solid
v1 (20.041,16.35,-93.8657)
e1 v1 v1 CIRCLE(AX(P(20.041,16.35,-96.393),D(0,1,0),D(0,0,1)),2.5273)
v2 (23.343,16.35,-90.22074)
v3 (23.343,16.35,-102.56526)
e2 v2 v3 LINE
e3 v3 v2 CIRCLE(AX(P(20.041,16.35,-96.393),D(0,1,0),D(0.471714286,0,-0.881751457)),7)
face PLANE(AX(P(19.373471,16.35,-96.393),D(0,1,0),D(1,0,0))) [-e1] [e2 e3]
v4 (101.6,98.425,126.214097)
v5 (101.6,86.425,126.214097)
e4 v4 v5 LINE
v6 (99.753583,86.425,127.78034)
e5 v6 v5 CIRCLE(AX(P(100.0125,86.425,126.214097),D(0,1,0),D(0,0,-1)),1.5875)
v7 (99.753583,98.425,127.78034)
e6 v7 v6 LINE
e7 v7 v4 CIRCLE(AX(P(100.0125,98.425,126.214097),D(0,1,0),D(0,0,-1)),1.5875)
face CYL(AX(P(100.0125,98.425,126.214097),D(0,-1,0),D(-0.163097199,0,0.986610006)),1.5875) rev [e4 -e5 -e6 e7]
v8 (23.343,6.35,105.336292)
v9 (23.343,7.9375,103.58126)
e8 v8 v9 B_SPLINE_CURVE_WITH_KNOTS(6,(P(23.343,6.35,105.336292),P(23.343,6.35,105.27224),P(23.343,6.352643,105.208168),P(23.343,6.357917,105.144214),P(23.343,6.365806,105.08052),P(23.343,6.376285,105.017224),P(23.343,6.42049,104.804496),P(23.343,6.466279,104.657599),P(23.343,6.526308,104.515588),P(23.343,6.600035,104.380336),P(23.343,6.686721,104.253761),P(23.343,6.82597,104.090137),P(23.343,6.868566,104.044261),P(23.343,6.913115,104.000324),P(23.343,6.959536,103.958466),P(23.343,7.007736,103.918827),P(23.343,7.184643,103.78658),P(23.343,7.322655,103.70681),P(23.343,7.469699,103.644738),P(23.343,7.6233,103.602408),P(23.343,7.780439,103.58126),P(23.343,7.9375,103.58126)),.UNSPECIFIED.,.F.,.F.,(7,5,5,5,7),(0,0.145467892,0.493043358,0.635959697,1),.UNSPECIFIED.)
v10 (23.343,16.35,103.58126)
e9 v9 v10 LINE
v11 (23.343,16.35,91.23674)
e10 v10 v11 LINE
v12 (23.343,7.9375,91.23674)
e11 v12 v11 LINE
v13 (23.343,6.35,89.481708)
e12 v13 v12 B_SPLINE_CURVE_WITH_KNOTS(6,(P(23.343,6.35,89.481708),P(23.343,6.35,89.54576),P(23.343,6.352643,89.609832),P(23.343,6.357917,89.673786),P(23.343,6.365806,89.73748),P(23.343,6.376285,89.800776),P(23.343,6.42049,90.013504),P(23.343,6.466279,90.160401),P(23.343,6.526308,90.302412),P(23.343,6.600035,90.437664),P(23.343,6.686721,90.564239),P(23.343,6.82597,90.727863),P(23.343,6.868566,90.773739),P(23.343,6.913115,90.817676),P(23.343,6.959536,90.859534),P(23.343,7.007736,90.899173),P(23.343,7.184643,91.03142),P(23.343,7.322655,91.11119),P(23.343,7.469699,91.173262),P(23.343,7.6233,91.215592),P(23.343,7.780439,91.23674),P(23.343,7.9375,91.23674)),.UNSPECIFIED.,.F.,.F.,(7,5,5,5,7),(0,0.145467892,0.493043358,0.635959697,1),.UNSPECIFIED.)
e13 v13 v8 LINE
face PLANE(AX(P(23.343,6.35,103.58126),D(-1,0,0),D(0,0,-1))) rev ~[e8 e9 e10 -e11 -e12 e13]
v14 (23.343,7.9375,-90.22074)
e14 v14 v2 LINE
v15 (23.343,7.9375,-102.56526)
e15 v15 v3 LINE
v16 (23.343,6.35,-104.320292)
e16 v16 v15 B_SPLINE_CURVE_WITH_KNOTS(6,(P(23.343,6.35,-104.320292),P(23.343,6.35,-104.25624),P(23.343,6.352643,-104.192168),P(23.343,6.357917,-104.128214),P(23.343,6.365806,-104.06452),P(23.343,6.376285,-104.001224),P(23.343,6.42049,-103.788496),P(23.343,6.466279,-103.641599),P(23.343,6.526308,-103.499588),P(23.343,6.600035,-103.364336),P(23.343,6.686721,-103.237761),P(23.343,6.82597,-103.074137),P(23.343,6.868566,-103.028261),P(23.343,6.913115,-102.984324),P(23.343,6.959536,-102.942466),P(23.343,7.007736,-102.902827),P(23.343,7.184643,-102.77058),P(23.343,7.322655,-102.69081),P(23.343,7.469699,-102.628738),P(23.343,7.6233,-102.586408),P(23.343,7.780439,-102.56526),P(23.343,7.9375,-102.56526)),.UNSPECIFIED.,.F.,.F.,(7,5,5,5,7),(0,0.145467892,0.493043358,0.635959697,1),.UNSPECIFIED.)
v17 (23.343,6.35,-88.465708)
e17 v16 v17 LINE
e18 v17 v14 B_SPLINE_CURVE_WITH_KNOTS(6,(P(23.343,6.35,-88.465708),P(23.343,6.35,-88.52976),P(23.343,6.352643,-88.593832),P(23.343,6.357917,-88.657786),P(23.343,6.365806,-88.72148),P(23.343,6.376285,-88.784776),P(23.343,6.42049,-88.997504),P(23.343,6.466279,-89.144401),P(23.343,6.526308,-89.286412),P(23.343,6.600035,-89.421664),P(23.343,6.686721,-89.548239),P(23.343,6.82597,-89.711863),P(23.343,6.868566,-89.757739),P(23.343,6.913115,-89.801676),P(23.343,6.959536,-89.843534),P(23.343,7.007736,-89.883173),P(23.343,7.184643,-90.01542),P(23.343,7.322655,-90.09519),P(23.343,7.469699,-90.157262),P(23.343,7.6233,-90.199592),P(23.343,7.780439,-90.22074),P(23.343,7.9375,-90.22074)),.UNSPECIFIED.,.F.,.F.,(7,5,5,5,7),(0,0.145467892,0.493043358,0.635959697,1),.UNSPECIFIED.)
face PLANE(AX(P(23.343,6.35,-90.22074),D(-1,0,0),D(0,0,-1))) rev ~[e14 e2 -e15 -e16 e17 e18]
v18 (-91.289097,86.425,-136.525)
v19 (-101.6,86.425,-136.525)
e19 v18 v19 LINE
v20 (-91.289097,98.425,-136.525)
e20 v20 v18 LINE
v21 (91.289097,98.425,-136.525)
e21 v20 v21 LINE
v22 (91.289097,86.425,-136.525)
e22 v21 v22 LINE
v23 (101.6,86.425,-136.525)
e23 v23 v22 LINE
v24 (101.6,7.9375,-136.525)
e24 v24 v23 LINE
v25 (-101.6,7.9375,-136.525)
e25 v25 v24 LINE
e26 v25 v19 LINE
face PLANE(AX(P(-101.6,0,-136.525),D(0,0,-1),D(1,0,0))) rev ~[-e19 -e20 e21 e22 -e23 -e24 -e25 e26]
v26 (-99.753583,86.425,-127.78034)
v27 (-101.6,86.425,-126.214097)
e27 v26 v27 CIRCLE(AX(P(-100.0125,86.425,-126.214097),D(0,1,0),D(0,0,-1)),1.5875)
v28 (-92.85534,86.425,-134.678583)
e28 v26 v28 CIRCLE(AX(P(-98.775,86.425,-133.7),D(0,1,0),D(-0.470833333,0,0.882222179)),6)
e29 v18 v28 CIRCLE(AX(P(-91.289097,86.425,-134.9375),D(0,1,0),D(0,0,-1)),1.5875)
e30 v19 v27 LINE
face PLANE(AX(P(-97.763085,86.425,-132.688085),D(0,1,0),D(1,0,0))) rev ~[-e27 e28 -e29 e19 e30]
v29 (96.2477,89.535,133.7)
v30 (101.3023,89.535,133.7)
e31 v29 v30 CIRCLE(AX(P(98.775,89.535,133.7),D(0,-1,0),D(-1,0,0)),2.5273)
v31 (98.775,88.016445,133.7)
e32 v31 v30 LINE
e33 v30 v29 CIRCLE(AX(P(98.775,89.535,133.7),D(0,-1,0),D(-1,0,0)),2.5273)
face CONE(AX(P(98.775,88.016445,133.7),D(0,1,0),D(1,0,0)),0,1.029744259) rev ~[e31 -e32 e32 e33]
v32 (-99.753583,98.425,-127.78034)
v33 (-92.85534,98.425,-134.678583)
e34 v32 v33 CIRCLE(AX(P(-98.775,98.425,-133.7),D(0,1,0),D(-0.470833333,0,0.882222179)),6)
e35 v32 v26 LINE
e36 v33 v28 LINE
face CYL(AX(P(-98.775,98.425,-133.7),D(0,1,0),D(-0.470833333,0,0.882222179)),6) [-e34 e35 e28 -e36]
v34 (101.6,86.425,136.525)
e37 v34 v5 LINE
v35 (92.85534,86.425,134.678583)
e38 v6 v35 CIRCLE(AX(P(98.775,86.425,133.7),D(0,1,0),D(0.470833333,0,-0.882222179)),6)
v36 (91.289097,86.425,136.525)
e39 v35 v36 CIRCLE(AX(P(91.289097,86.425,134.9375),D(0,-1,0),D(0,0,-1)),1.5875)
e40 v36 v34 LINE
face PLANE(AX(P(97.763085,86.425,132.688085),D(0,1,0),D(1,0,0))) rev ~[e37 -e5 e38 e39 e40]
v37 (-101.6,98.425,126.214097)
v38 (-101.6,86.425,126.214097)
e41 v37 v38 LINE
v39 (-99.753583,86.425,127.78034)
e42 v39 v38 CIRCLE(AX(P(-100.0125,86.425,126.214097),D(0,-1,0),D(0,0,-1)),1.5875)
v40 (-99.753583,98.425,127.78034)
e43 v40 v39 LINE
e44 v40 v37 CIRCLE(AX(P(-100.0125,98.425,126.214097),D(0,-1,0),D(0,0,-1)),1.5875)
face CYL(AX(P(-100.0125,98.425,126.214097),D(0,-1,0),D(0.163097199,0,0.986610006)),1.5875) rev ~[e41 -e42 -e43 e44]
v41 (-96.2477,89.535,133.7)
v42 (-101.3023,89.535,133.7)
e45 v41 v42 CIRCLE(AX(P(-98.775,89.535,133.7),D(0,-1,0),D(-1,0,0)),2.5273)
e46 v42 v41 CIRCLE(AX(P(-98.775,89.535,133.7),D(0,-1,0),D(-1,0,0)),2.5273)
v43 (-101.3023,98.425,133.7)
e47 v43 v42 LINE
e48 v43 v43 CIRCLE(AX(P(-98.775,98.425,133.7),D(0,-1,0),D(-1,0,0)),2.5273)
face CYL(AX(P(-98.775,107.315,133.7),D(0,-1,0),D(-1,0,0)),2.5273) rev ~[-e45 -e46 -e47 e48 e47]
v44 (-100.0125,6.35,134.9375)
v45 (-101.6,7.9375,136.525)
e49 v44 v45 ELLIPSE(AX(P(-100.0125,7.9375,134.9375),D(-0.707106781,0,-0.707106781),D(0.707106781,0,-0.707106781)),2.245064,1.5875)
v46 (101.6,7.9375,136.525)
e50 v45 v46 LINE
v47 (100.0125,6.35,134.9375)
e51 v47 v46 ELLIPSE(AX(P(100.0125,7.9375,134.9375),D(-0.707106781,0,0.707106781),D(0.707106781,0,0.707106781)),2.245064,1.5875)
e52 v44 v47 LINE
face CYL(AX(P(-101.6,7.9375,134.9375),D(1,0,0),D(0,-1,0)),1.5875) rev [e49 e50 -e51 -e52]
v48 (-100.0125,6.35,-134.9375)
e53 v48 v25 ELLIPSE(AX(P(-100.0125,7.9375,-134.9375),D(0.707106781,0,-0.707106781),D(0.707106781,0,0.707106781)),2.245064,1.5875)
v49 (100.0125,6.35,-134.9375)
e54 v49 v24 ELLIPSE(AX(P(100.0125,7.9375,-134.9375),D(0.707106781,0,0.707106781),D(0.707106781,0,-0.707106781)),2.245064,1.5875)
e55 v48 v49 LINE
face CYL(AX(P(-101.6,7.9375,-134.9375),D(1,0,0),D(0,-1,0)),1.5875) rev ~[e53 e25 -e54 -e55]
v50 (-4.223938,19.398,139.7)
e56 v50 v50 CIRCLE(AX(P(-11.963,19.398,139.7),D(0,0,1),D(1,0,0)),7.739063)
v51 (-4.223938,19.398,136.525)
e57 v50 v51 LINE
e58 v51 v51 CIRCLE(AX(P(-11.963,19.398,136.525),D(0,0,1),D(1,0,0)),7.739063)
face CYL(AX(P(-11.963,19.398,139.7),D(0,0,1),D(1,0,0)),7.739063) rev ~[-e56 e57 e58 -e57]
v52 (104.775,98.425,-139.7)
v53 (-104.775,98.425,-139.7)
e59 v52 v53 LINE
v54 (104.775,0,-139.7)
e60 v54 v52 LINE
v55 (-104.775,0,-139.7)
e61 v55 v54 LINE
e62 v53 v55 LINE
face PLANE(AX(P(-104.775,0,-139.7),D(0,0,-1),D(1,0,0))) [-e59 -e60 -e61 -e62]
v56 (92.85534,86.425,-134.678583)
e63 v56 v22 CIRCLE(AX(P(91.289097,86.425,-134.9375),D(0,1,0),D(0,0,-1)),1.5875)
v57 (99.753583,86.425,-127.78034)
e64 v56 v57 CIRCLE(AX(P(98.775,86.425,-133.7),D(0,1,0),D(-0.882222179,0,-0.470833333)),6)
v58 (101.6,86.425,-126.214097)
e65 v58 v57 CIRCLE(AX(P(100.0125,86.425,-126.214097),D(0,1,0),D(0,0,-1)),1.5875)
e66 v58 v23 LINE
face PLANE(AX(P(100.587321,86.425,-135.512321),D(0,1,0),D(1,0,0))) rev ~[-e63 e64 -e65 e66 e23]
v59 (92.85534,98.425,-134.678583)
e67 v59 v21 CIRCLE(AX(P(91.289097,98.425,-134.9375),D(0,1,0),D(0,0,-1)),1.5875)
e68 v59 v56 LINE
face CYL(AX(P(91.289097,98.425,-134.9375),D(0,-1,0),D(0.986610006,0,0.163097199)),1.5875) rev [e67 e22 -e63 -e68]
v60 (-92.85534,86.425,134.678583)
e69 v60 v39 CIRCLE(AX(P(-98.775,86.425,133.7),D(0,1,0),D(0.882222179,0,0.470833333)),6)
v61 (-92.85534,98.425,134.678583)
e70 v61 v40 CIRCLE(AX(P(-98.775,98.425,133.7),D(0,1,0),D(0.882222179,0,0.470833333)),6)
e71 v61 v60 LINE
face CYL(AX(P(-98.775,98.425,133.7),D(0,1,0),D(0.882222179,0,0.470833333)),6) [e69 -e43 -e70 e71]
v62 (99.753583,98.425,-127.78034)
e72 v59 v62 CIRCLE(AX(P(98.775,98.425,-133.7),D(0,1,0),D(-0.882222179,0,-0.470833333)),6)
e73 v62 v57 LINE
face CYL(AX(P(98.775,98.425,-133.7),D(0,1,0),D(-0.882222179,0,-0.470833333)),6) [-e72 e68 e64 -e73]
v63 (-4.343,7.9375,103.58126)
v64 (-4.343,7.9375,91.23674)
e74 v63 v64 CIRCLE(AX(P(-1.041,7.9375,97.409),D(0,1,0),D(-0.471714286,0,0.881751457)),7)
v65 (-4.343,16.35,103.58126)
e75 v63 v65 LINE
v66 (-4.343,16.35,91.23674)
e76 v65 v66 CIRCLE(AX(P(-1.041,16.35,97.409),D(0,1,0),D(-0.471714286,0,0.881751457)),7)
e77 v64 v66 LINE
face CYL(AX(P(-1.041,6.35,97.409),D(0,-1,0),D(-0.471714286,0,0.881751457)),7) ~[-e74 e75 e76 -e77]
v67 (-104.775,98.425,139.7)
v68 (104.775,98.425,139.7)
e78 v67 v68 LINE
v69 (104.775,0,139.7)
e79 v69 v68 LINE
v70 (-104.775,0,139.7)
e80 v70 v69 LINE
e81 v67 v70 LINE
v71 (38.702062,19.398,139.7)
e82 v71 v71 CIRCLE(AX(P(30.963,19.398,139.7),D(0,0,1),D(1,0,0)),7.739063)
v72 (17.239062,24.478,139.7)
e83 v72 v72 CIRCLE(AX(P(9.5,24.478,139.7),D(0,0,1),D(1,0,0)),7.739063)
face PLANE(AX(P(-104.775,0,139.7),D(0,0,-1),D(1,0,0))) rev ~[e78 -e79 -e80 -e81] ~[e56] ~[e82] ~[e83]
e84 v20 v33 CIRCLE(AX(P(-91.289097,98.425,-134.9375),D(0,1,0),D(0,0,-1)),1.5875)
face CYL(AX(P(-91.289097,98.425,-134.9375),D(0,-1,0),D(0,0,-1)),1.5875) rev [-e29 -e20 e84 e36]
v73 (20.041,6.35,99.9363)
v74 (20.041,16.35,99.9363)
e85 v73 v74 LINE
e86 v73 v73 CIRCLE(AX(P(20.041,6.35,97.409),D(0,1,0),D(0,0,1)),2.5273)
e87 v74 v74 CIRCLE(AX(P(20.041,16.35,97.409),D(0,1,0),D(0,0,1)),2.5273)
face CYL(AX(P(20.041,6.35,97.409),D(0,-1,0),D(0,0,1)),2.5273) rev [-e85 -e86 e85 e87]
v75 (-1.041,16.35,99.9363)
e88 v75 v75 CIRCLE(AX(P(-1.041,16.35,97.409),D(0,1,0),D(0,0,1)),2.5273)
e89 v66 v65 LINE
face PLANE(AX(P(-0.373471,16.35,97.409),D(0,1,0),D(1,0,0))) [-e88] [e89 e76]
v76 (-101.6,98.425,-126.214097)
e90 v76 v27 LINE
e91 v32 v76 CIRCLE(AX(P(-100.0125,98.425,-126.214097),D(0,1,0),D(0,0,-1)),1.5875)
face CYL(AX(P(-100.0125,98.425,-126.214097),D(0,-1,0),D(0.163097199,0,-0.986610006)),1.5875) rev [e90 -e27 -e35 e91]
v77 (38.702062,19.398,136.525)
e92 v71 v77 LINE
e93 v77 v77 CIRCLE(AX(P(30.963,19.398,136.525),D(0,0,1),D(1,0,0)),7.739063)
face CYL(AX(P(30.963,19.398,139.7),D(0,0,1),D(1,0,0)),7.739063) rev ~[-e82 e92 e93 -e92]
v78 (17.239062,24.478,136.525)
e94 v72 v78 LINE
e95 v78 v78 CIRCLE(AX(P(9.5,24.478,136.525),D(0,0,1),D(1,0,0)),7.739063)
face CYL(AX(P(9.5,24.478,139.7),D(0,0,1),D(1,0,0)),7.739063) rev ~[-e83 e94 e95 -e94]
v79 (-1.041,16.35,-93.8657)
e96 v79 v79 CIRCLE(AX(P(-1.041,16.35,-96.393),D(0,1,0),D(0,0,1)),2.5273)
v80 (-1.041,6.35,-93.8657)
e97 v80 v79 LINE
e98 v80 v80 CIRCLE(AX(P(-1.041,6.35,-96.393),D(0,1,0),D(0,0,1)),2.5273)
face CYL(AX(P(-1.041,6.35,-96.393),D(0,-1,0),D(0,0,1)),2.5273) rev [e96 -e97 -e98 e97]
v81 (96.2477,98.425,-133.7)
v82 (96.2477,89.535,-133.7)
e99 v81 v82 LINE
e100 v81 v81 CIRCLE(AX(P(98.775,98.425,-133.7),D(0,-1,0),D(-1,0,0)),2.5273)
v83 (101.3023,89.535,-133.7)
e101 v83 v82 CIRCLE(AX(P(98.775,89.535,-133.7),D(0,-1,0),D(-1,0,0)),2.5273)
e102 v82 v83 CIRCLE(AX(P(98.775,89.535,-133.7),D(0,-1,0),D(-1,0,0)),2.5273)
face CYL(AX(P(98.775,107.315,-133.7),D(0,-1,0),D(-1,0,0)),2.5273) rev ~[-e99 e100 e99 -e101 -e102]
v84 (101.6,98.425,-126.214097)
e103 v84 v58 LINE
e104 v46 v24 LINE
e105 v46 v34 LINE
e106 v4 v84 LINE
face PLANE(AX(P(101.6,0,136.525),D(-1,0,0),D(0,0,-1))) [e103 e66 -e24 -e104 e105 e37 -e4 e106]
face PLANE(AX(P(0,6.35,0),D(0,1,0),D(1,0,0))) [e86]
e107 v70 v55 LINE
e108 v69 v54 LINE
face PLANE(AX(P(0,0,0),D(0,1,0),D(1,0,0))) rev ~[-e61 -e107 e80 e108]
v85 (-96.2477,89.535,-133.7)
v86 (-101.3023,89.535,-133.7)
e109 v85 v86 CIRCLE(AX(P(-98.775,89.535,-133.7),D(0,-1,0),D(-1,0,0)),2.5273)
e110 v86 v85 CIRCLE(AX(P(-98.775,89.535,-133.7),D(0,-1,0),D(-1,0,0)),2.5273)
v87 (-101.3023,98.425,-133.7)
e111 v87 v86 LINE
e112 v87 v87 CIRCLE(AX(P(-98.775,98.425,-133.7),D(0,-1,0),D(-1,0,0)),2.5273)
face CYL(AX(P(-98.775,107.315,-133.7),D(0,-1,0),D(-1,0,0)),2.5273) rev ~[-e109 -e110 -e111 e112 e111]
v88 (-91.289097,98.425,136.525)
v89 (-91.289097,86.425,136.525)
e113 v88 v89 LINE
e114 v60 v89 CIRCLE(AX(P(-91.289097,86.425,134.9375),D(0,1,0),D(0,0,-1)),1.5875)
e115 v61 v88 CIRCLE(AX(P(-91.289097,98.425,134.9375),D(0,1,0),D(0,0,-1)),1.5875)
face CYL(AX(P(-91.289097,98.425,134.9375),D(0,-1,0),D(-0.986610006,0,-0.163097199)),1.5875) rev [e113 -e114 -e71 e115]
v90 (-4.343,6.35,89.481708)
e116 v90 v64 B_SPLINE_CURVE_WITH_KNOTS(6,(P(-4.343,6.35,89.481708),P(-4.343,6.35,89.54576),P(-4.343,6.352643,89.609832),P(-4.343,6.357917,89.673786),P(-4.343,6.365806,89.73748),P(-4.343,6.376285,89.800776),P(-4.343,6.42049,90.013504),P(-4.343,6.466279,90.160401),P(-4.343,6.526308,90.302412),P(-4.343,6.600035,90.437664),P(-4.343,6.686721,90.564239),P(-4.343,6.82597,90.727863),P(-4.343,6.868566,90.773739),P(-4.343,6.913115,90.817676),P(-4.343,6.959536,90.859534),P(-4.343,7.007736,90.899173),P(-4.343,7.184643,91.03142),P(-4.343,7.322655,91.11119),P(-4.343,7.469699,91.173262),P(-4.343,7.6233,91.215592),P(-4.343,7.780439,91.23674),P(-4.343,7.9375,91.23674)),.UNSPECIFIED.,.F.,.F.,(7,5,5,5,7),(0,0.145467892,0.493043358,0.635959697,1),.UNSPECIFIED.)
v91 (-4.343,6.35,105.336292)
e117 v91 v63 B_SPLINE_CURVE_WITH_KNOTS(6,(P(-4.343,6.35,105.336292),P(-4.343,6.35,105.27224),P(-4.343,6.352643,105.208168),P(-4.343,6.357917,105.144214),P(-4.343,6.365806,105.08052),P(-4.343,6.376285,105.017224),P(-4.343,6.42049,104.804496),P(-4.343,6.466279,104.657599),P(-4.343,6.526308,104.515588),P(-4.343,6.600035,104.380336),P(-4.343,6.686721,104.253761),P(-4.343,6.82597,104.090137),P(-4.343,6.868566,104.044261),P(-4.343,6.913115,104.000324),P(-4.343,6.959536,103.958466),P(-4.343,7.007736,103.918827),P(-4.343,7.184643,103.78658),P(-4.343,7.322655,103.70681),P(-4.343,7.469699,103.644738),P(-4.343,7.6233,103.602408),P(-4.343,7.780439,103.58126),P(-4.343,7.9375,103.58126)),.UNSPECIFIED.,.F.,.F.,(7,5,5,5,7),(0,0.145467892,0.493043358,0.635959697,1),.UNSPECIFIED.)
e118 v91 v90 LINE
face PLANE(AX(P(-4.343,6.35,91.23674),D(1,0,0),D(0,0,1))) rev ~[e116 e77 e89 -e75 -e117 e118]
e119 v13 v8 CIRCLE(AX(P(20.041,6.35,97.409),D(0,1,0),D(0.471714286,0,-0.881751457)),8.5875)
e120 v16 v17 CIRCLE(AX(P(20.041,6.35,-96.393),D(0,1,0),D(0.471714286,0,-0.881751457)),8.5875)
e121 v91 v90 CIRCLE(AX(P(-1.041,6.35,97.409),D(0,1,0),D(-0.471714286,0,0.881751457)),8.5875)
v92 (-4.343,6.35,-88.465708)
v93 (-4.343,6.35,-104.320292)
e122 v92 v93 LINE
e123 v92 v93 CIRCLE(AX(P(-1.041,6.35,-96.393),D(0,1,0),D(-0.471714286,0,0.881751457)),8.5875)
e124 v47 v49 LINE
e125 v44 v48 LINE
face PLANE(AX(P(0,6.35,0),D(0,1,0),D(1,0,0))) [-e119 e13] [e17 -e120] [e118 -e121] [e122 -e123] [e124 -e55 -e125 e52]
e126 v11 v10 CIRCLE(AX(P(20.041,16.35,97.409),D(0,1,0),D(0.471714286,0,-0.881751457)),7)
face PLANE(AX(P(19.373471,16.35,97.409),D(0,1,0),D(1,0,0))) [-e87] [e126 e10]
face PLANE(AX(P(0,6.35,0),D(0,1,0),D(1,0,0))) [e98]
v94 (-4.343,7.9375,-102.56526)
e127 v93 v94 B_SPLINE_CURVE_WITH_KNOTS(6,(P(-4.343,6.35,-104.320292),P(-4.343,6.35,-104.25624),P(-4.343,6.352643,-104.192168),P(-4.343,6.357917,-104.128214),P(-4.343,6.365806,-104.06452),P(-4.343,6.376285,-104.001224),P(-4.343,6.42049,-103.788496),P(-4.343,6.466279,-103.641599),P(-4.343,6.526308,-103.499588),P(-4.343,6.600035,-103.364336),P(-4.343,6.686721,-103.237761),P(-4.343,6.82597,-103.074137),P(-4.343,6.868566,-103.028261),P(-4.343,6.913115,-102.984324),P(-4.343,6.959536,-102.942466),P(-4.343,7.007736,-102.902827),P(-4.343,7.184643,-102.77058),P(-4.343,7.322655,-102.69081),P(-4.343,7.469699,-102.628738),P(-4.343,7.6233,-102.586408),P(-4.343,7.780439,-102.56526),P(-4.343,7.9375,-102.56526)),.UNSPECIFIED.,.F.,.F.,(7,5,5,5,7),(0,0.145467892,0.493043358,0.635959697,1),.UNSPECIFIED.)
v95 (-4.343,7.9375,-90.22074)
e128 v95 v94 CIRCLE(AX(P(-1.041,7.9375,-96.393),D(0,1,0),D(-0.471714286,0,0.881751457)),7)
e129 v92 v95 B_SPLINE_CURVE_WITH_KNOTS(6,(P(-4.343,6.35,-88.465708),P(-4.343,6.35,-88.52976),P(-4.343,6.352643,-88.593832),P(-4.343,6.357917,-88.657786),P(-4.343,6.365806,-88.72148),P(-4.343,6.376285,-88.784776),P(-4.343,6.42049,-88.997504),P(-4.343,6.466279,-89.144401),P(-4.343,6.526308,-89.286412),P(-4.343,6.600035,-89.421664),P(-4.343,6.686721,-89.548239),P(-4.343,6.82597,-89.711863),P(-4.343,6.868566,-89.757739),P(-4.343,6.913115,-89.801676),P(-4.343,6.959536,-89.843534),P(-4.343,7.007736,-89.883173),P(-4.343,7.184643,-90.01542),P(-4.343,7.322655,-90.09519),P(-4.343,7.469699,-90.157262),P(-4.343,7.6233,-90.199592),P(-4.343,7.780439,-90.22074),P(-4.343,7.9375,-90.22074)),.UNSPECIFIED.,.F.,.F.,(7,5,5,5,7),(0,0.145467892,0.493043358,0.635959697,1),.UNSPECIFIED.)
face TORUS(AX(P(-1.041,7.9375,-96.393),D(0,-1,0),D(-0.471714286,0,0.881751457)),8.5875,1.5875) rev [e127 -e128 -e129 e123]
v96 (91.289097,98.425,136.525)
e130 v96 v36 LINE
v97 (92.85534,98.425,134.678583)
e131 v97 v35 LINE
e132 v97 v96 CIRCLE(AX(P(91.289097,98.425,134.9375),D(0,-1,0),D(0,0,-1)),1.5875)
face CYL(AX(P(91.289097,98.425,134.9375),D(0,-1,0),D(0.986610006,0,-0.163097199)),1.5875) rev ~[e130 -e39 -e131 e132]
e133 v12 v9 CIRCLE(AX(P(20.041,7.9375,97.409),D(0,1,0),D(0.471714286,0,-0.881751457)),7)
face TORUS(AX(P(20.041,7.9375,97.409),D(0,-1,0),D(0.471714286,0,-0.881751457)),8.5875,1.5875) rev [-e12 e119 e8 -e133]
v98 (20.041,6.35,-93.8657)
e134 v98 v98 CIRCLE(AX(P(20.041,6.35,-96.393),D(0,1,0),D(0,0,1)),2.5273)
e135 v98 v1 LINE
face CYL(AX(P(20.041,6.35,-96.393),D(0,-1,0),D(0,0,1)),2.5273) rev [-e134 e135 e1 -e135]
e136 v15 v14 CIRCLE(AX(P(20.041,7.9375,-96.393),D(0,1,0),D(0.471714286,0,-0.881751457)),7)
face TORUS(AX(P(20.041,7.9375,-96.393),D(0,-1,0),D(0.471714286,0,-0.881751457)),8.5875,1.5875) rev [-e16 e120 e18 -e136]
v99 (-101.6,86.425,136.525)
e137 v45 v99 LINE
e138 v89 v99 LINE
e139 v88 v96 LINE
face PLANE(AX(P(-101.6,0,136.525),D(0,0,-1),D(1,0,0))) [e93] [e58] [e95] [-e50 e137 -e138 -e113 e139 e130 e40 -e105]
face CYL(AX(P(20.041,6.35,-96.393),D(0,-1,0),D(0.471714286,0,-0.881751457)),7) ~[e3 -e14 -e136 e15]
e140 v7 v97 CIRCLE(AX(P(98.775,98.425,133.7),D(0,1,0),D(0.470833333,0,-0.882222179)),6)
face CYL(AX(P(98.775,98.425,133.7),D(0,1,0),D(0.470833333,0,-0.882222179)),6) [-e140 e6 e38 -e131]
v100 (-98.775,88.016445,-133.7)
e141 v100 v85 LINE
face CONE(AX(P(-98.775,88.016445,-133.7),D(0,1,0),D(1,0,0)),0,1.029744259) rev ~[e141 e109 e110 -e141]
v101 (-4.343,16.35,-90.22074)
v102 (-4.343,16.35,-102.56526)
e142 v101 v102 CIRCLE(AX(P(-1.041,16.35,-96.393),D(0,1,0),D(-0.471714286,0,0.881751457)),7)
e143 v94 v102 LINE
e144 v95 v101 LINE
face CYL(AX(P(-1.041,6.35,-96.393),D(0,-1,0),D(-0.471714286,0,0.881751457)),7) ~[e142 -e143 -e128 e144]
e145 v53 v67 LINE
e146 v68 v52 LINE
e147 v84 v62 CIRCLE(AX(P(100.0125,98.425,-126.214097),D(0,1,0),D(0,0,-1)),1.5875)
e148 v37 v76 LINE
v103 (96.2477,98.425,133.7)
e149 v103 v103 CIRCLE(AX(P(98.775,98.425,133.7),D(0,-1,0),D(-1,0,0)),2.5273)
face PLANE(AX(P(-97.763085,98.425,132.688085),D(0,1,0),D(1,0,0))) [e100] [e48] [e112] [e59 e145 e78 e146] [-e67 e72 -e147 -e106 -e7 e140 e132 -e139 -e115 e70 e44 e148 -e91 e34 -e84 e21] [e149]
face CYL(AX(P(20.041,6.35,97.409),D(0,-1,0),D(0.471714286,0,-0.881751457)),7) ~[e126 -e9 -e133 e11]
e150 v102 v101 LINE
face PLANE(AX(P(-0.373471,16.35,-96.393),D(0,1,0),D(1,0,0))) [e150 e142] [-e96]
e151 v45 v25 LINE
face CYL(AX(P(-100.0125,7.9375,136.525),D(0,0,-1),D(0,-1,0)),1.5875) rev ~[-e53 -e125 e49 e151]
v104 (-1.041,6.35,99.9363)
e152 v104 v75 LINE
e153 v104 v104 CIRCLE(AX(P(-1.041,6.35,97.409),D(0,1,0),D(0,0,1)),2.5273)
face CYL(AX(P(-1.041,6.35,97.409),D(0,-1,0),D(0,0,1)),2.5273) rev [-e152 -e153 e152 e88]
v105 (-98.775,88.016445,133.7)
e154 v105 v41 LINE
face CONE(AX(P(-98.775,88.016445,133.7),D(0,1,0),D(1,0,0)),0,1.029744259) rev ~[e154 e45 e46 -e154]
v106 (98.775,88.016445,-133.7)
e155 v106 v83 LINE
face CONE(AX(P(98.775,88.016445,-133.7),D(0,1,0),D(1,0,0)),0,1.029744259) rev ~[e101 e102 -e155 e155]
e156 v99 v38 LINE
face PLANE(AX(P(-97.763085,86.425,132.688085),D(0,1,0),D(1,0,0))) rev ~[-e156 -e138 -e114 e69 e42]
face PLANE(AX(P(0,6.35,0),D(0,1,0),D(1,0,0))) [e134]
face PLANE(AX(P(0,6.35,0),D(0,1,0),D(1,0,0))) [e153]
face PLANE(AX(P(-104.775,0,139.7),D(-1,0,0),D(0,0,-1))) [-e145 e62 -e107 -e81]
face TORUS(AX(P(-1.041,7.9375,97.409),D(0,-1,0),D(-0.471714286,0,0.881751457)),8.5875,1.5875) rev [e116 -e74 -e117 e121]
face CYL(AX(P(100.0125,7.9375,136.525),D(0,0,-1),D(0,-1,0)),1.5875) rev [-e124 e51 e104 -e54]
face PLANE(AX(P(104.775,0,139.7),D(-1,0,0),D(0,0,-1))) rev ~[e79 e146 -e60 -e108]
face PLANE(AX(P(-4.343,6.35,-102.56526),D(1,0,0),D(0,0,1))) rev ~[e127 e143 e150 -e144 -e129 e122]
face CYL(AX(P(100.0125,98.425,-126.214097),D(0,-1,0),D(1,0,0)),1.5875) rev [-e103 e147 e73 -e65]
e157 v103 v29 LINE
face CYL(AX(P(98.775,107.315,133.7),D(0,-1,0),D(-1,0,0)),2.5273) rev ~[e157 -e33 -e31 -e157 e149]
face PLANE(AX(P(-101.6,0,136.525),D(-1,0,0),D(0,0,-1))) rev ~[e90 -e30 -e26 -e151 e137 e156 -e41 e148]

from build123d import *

# Parameters (mm, degrees)
SKETCH2_W                                = 203.2
SKETCH2_H                                = 273.05
BOX_BASE_DEPTH                           = 6.35
SKETCH2_3_W                              = 209.55
SKETCH2_3_H                              = 279.4
SKETCH2_3_W_2                            = 203.2
SKETCH2_3_H_2                            = 273.05
BOX_WALL_HEIGHT_DEPTH                    = 98.425
SKETCH9_R                                = 2.5273
BOSS_EXTRUDE4_DEPTH                      = 12
FILLET2_R                                = 1.5875
LID_MOUNTING_HEAT_SET_INSERT_HOLES_D     = 5.0546
LID_MOUNTING_HEAT_SET_INSERT_HOLES_DEPTH = 8.89
LID_MOUNTING_HEAT_SET_INSERT_HOLES_TIP   = 1.518555042
SKETCH14_R                               = 2.5273
MME_42_MOUNTING_PEGS_DEPTH               = 10
FILLET3_R                                = 1.5875
FILLET5_R                                = 1.5875
SKETCH19_R                               = 7.7390625
CUT_EXTRUDE2_DEPTH                       = 3.175


with BuildPart() as part:
    # Sketch2 → Box Base (new body)
    with BuildSketch(Plane(origin=(0, 0, 0), x_dir=(1, 0, 0), z_dir=(0, 1, 0))):
        Rectangle(SKETCH2_W, SKETCH2_H)
    extrude(amount=BOX_BASE_DEPTH)

    # Sketch2<3> → Box Wall height (add)
    with BuildSketch(Plane(origin=(0, 0, 0), x_dir=(1, 0, 0), z_dir=(0, 1, 0))):
        Rectangle(SKETCH2_3_W, SKETCH2_3_H)
        Rectangle(SKETCH2_3_W_2, SKETCH2_3_H_2, mode=Mode.SUBTRACT)
    extrude(amount=BOX_WALL_HEIGHT_DEPTH)

    # Sketch9 → Boss-Extrude4 (add)
    with BuildSketch(Plane(origin=(0, 98.425, 0), x_dir=(1, 0, 0), z_dir=(0, 1, 0))):
        with BuildLine():
            ThreePointArc((-93.481666929, -136.525), (-94.532359313, -129.457359313), (-101.6, -128.406666929))
            Line((-101.6, -128.406666929), (-101.6, -136.525))
            Line((-101.6, -136.525), (-93.481666929, -136.525))
        make_face()
        with Locations((-98.775, -133.7)):
            Circle(SKETCH9_R, mode=Mode.SUBTRACT)
        with Locations((-98.775, -133.7)):
            Circle(SKETCH9_R)
        Polygon((-101.6, -136.525), (-101.6, -128.406666929), (-104.775, -128.406666929), (-104.775, -139.7), (-93.481666929, -139.7), (-93.481666929, -136.525), align=None)
        with BuildLine():
            ThreePointArc((101.6, -128.406666929), (94.532359313, -129.457359313), (93.481666929, -136.525))
            Line((93.481666929, -136.525), (101.6, -136.525))
            Line((101.6, -136.525), (101.6, -128.406666929))
        make_face()
        with Locations((98.775, -133.7)):
            Circle(SKETCH9_R, mode=Mode.SUBTRACT)
        with Locations((98.775, -133.7)):
            Circle(SKETCH9_R)
        Polygon((101.6, -136.525), (93.481666929, -136.525), (93.481666929, -139.7), (104.775, -139.7), (104.775, -128.406666929), (101.6, -128.406666929), align=None)
        Polygon((93.481666929, 139.7), (93.481666929, 136.525), (101.6, 136.525), (101.6, 128.406666929), (104.775, 128.406666929), (104.775, 139.7), align=None)
        with BuildLine():
            Line((101.6, 136.525), (93.481666929, 136.525))
            ThreePointArc((93.481666929, 136.525), (94.532359313, 129.457359313), (101.6, 128.406666929))
            Line((101.6, 128.406666929), (101.6, 136.525))
        make_face()
        with Locations((98.775, 133.7)):
            Circle(SKETCH9_R, mode=Mode.SUBTRACT)
        with Locations((98.775, 133.7)):
            Circle(SKETCH9_R)
        with BuildLine():
            Line((-101.6, 136.525), (-101.6, 128.406666929))
            ThreePointArc((-101.6, 128.406666929), (-94.532359313, 129.457359313), (-93.481666929, 136.525))
            Line((-93.481666929, 136.525), (-101.6, 136.525))
        make_face()
        with Locations((-98.775, 133.7)):
            Circle(SKETCH9_R, mode=Mode.SUBTRACT)
        with Locations((-98.775, 133.7)):
            Circle(SKETCH9_R)
        Polygon((-104.775, 128.406666929), (-101.6, 128.406666929), (-101.6, 136.525), (-93.481666929, 136.525), (-93.481666929, 139.7), (-104.775, 139.7), align=None)
    extrude(amount=-BOSS_EXTRUDE4_DEPTH)

    # Fillet2
    fillet2_edges = [part.edges().sort_by_distance(p)[0] for p in [
        (-93.481666929, 92.425, -136.525),
        (-101.6, 92.425, -128.406666929),
        (-93.481666929, 92.425, 136.525),
        (-101.6, 92.425, 128.406666929),
        (93.481666929, 92.425, 136.525),
        (101.6, 92.425, 128.406666929),
        (101.6, 92.425, -128.406666929),
        (93.481666929, 92.425, -136.525),
    ]]
    fillet(fillet2_edges, radius=FILLET2_R)

    # Lid Mounting heat Set Insert Holes
    with Locations(Plane(origin=(0, 98.425, 0), x_dir=(1, 0, 0), z_dir=(0, 1, 0))):
        with Locations((98.775, 133.7), (-98.775, 133.7), (-98.775, -133.7), (98.775, -133.7)):
            Hole(LID_MOUNTING_HEAT_SET_INSERT_HOLES_D / 2, depth=LID_MOUNTING_HEAT_SET_INSERT_HOLES_DEPTH)
            with Locations((0, 0, -(LID_MOUNTING_HEAT_SET_INSERT_HOLES_DEPTH + LID_MOUNTING_HEAT_SET_INSERT_HOLES_TIP / 2))):  # 118° drill point
                Cone(0, LID_MOUNTING_HEAT_SET_INSERT_HOLES_D / 2, LID_MOUNTING_HEAT_SET_INSERT_HOLES_TIP, mode=Mode.SUBTRACT)

    # Sketch14 → MME-42 Mounting Pegs (add)
    with BuildSketch(Plane(origin=(0, 6.35, 0), x_dir=(1, 0, 0), z_dir=(0, 1, 0))):
        with BuildLine():
            Line((-4.343000027, -91.236739798), (-4.343000027, -103.581260202))
            ThreePointArc((-4.343000027, -103.581260202), (5.958999973, -97.409), (-4.343000027, -91.236739798))
        make_face()
        with Locations(Location((-1.041000027, -97.409, 0), (0, 0, 270))):
            Circle(SKETCH14_R, mode=Mode.SUBTRACT)
        with BuildLine():
            ThreePointArc((23.342999973, -91.236739798), (13.040999973, -97.409), (23.342999973, -103.581260202))
            Line((23.342999973, -103.581260202), (23.342999973, -91.236739798))
        make_face()
        with Locations(Location((20.040999973, -97.409, 0), (0, 0, 270))):
            Circle(SKETCH14_R, mode=Mode.SUBTRACT)
        with BuildLine():
            Line((-4.343000027, 102.565260202), (-4.343000027, 90.220739798))
            ThreePointArc((-4.343000027, 90.220739798), (5.958999973, 96.393), (-4.343000027, 102.565260202))
        make_face()
        with Locations(Location((-1.041000027, 96.393, 0), (0, 0, 270))):
            Circle(SKETCH14_R, mode=Mode.SUBTRACT)
        with BuildLine():
            ThreePointArc((23.342999973, 102.565260202), (13.040999973, 96.393), (23.342999973, 90.220739798))
            Line((23.342999973, 90.220739798), (23.342999973, 102.565260202))
        make_face()
        with Locations(Location((20.040999973, 96.393, 0), (0, 0, 270))):
            Circle(SKETCH14_R, mode=Mode.SUBTRACT)
    extrude(amount=MME_42_MOUNTING_PEGS_DEPTH)

    # Fillet3
    fillet3_edges = [part.edges().sort_by_distance(p)[0] for p in [
        (5.958999973, 6.35, 97.409),
        (13.040999973, 6.35, 97.409),
        (5.958999973, 6.35, -96.393),
        (13.040999973, 6.35, -96.393),
    ]]
    fillet(fillet3_edges, radius=FILLET3_R)

    # Fillet5
    fillet5_edges = [part.edges().sort_by_distance(p)[0] for p in [
        (0, 6.35, 136.525),
        (101.6, 6.35, 0),
        (0, 6.35, -136.525),
        (-101.6, 6.35, 0),
    ]]
    fillet(fillet5_edges, radius=FILLET5_R)

    # Sketch19 → Cut-Extrude2 (cut)
    with BuildSketch(Plane.XY.offset(139.7)):
        with Locations((-11.963000027, 19.398)):
            Circle(SKETCH19_R)
        with Locations((9.499999973, 24.478)):
            Circle(SKETCH19_R)
        with Locations((30.962999973, 19.398)):
            Circle(SKETCH19_R)
    extrude(amount=-CUT_EXTRUDE2_DEPTH, mode=Mode.SUBTRACT)


solid = part.part
